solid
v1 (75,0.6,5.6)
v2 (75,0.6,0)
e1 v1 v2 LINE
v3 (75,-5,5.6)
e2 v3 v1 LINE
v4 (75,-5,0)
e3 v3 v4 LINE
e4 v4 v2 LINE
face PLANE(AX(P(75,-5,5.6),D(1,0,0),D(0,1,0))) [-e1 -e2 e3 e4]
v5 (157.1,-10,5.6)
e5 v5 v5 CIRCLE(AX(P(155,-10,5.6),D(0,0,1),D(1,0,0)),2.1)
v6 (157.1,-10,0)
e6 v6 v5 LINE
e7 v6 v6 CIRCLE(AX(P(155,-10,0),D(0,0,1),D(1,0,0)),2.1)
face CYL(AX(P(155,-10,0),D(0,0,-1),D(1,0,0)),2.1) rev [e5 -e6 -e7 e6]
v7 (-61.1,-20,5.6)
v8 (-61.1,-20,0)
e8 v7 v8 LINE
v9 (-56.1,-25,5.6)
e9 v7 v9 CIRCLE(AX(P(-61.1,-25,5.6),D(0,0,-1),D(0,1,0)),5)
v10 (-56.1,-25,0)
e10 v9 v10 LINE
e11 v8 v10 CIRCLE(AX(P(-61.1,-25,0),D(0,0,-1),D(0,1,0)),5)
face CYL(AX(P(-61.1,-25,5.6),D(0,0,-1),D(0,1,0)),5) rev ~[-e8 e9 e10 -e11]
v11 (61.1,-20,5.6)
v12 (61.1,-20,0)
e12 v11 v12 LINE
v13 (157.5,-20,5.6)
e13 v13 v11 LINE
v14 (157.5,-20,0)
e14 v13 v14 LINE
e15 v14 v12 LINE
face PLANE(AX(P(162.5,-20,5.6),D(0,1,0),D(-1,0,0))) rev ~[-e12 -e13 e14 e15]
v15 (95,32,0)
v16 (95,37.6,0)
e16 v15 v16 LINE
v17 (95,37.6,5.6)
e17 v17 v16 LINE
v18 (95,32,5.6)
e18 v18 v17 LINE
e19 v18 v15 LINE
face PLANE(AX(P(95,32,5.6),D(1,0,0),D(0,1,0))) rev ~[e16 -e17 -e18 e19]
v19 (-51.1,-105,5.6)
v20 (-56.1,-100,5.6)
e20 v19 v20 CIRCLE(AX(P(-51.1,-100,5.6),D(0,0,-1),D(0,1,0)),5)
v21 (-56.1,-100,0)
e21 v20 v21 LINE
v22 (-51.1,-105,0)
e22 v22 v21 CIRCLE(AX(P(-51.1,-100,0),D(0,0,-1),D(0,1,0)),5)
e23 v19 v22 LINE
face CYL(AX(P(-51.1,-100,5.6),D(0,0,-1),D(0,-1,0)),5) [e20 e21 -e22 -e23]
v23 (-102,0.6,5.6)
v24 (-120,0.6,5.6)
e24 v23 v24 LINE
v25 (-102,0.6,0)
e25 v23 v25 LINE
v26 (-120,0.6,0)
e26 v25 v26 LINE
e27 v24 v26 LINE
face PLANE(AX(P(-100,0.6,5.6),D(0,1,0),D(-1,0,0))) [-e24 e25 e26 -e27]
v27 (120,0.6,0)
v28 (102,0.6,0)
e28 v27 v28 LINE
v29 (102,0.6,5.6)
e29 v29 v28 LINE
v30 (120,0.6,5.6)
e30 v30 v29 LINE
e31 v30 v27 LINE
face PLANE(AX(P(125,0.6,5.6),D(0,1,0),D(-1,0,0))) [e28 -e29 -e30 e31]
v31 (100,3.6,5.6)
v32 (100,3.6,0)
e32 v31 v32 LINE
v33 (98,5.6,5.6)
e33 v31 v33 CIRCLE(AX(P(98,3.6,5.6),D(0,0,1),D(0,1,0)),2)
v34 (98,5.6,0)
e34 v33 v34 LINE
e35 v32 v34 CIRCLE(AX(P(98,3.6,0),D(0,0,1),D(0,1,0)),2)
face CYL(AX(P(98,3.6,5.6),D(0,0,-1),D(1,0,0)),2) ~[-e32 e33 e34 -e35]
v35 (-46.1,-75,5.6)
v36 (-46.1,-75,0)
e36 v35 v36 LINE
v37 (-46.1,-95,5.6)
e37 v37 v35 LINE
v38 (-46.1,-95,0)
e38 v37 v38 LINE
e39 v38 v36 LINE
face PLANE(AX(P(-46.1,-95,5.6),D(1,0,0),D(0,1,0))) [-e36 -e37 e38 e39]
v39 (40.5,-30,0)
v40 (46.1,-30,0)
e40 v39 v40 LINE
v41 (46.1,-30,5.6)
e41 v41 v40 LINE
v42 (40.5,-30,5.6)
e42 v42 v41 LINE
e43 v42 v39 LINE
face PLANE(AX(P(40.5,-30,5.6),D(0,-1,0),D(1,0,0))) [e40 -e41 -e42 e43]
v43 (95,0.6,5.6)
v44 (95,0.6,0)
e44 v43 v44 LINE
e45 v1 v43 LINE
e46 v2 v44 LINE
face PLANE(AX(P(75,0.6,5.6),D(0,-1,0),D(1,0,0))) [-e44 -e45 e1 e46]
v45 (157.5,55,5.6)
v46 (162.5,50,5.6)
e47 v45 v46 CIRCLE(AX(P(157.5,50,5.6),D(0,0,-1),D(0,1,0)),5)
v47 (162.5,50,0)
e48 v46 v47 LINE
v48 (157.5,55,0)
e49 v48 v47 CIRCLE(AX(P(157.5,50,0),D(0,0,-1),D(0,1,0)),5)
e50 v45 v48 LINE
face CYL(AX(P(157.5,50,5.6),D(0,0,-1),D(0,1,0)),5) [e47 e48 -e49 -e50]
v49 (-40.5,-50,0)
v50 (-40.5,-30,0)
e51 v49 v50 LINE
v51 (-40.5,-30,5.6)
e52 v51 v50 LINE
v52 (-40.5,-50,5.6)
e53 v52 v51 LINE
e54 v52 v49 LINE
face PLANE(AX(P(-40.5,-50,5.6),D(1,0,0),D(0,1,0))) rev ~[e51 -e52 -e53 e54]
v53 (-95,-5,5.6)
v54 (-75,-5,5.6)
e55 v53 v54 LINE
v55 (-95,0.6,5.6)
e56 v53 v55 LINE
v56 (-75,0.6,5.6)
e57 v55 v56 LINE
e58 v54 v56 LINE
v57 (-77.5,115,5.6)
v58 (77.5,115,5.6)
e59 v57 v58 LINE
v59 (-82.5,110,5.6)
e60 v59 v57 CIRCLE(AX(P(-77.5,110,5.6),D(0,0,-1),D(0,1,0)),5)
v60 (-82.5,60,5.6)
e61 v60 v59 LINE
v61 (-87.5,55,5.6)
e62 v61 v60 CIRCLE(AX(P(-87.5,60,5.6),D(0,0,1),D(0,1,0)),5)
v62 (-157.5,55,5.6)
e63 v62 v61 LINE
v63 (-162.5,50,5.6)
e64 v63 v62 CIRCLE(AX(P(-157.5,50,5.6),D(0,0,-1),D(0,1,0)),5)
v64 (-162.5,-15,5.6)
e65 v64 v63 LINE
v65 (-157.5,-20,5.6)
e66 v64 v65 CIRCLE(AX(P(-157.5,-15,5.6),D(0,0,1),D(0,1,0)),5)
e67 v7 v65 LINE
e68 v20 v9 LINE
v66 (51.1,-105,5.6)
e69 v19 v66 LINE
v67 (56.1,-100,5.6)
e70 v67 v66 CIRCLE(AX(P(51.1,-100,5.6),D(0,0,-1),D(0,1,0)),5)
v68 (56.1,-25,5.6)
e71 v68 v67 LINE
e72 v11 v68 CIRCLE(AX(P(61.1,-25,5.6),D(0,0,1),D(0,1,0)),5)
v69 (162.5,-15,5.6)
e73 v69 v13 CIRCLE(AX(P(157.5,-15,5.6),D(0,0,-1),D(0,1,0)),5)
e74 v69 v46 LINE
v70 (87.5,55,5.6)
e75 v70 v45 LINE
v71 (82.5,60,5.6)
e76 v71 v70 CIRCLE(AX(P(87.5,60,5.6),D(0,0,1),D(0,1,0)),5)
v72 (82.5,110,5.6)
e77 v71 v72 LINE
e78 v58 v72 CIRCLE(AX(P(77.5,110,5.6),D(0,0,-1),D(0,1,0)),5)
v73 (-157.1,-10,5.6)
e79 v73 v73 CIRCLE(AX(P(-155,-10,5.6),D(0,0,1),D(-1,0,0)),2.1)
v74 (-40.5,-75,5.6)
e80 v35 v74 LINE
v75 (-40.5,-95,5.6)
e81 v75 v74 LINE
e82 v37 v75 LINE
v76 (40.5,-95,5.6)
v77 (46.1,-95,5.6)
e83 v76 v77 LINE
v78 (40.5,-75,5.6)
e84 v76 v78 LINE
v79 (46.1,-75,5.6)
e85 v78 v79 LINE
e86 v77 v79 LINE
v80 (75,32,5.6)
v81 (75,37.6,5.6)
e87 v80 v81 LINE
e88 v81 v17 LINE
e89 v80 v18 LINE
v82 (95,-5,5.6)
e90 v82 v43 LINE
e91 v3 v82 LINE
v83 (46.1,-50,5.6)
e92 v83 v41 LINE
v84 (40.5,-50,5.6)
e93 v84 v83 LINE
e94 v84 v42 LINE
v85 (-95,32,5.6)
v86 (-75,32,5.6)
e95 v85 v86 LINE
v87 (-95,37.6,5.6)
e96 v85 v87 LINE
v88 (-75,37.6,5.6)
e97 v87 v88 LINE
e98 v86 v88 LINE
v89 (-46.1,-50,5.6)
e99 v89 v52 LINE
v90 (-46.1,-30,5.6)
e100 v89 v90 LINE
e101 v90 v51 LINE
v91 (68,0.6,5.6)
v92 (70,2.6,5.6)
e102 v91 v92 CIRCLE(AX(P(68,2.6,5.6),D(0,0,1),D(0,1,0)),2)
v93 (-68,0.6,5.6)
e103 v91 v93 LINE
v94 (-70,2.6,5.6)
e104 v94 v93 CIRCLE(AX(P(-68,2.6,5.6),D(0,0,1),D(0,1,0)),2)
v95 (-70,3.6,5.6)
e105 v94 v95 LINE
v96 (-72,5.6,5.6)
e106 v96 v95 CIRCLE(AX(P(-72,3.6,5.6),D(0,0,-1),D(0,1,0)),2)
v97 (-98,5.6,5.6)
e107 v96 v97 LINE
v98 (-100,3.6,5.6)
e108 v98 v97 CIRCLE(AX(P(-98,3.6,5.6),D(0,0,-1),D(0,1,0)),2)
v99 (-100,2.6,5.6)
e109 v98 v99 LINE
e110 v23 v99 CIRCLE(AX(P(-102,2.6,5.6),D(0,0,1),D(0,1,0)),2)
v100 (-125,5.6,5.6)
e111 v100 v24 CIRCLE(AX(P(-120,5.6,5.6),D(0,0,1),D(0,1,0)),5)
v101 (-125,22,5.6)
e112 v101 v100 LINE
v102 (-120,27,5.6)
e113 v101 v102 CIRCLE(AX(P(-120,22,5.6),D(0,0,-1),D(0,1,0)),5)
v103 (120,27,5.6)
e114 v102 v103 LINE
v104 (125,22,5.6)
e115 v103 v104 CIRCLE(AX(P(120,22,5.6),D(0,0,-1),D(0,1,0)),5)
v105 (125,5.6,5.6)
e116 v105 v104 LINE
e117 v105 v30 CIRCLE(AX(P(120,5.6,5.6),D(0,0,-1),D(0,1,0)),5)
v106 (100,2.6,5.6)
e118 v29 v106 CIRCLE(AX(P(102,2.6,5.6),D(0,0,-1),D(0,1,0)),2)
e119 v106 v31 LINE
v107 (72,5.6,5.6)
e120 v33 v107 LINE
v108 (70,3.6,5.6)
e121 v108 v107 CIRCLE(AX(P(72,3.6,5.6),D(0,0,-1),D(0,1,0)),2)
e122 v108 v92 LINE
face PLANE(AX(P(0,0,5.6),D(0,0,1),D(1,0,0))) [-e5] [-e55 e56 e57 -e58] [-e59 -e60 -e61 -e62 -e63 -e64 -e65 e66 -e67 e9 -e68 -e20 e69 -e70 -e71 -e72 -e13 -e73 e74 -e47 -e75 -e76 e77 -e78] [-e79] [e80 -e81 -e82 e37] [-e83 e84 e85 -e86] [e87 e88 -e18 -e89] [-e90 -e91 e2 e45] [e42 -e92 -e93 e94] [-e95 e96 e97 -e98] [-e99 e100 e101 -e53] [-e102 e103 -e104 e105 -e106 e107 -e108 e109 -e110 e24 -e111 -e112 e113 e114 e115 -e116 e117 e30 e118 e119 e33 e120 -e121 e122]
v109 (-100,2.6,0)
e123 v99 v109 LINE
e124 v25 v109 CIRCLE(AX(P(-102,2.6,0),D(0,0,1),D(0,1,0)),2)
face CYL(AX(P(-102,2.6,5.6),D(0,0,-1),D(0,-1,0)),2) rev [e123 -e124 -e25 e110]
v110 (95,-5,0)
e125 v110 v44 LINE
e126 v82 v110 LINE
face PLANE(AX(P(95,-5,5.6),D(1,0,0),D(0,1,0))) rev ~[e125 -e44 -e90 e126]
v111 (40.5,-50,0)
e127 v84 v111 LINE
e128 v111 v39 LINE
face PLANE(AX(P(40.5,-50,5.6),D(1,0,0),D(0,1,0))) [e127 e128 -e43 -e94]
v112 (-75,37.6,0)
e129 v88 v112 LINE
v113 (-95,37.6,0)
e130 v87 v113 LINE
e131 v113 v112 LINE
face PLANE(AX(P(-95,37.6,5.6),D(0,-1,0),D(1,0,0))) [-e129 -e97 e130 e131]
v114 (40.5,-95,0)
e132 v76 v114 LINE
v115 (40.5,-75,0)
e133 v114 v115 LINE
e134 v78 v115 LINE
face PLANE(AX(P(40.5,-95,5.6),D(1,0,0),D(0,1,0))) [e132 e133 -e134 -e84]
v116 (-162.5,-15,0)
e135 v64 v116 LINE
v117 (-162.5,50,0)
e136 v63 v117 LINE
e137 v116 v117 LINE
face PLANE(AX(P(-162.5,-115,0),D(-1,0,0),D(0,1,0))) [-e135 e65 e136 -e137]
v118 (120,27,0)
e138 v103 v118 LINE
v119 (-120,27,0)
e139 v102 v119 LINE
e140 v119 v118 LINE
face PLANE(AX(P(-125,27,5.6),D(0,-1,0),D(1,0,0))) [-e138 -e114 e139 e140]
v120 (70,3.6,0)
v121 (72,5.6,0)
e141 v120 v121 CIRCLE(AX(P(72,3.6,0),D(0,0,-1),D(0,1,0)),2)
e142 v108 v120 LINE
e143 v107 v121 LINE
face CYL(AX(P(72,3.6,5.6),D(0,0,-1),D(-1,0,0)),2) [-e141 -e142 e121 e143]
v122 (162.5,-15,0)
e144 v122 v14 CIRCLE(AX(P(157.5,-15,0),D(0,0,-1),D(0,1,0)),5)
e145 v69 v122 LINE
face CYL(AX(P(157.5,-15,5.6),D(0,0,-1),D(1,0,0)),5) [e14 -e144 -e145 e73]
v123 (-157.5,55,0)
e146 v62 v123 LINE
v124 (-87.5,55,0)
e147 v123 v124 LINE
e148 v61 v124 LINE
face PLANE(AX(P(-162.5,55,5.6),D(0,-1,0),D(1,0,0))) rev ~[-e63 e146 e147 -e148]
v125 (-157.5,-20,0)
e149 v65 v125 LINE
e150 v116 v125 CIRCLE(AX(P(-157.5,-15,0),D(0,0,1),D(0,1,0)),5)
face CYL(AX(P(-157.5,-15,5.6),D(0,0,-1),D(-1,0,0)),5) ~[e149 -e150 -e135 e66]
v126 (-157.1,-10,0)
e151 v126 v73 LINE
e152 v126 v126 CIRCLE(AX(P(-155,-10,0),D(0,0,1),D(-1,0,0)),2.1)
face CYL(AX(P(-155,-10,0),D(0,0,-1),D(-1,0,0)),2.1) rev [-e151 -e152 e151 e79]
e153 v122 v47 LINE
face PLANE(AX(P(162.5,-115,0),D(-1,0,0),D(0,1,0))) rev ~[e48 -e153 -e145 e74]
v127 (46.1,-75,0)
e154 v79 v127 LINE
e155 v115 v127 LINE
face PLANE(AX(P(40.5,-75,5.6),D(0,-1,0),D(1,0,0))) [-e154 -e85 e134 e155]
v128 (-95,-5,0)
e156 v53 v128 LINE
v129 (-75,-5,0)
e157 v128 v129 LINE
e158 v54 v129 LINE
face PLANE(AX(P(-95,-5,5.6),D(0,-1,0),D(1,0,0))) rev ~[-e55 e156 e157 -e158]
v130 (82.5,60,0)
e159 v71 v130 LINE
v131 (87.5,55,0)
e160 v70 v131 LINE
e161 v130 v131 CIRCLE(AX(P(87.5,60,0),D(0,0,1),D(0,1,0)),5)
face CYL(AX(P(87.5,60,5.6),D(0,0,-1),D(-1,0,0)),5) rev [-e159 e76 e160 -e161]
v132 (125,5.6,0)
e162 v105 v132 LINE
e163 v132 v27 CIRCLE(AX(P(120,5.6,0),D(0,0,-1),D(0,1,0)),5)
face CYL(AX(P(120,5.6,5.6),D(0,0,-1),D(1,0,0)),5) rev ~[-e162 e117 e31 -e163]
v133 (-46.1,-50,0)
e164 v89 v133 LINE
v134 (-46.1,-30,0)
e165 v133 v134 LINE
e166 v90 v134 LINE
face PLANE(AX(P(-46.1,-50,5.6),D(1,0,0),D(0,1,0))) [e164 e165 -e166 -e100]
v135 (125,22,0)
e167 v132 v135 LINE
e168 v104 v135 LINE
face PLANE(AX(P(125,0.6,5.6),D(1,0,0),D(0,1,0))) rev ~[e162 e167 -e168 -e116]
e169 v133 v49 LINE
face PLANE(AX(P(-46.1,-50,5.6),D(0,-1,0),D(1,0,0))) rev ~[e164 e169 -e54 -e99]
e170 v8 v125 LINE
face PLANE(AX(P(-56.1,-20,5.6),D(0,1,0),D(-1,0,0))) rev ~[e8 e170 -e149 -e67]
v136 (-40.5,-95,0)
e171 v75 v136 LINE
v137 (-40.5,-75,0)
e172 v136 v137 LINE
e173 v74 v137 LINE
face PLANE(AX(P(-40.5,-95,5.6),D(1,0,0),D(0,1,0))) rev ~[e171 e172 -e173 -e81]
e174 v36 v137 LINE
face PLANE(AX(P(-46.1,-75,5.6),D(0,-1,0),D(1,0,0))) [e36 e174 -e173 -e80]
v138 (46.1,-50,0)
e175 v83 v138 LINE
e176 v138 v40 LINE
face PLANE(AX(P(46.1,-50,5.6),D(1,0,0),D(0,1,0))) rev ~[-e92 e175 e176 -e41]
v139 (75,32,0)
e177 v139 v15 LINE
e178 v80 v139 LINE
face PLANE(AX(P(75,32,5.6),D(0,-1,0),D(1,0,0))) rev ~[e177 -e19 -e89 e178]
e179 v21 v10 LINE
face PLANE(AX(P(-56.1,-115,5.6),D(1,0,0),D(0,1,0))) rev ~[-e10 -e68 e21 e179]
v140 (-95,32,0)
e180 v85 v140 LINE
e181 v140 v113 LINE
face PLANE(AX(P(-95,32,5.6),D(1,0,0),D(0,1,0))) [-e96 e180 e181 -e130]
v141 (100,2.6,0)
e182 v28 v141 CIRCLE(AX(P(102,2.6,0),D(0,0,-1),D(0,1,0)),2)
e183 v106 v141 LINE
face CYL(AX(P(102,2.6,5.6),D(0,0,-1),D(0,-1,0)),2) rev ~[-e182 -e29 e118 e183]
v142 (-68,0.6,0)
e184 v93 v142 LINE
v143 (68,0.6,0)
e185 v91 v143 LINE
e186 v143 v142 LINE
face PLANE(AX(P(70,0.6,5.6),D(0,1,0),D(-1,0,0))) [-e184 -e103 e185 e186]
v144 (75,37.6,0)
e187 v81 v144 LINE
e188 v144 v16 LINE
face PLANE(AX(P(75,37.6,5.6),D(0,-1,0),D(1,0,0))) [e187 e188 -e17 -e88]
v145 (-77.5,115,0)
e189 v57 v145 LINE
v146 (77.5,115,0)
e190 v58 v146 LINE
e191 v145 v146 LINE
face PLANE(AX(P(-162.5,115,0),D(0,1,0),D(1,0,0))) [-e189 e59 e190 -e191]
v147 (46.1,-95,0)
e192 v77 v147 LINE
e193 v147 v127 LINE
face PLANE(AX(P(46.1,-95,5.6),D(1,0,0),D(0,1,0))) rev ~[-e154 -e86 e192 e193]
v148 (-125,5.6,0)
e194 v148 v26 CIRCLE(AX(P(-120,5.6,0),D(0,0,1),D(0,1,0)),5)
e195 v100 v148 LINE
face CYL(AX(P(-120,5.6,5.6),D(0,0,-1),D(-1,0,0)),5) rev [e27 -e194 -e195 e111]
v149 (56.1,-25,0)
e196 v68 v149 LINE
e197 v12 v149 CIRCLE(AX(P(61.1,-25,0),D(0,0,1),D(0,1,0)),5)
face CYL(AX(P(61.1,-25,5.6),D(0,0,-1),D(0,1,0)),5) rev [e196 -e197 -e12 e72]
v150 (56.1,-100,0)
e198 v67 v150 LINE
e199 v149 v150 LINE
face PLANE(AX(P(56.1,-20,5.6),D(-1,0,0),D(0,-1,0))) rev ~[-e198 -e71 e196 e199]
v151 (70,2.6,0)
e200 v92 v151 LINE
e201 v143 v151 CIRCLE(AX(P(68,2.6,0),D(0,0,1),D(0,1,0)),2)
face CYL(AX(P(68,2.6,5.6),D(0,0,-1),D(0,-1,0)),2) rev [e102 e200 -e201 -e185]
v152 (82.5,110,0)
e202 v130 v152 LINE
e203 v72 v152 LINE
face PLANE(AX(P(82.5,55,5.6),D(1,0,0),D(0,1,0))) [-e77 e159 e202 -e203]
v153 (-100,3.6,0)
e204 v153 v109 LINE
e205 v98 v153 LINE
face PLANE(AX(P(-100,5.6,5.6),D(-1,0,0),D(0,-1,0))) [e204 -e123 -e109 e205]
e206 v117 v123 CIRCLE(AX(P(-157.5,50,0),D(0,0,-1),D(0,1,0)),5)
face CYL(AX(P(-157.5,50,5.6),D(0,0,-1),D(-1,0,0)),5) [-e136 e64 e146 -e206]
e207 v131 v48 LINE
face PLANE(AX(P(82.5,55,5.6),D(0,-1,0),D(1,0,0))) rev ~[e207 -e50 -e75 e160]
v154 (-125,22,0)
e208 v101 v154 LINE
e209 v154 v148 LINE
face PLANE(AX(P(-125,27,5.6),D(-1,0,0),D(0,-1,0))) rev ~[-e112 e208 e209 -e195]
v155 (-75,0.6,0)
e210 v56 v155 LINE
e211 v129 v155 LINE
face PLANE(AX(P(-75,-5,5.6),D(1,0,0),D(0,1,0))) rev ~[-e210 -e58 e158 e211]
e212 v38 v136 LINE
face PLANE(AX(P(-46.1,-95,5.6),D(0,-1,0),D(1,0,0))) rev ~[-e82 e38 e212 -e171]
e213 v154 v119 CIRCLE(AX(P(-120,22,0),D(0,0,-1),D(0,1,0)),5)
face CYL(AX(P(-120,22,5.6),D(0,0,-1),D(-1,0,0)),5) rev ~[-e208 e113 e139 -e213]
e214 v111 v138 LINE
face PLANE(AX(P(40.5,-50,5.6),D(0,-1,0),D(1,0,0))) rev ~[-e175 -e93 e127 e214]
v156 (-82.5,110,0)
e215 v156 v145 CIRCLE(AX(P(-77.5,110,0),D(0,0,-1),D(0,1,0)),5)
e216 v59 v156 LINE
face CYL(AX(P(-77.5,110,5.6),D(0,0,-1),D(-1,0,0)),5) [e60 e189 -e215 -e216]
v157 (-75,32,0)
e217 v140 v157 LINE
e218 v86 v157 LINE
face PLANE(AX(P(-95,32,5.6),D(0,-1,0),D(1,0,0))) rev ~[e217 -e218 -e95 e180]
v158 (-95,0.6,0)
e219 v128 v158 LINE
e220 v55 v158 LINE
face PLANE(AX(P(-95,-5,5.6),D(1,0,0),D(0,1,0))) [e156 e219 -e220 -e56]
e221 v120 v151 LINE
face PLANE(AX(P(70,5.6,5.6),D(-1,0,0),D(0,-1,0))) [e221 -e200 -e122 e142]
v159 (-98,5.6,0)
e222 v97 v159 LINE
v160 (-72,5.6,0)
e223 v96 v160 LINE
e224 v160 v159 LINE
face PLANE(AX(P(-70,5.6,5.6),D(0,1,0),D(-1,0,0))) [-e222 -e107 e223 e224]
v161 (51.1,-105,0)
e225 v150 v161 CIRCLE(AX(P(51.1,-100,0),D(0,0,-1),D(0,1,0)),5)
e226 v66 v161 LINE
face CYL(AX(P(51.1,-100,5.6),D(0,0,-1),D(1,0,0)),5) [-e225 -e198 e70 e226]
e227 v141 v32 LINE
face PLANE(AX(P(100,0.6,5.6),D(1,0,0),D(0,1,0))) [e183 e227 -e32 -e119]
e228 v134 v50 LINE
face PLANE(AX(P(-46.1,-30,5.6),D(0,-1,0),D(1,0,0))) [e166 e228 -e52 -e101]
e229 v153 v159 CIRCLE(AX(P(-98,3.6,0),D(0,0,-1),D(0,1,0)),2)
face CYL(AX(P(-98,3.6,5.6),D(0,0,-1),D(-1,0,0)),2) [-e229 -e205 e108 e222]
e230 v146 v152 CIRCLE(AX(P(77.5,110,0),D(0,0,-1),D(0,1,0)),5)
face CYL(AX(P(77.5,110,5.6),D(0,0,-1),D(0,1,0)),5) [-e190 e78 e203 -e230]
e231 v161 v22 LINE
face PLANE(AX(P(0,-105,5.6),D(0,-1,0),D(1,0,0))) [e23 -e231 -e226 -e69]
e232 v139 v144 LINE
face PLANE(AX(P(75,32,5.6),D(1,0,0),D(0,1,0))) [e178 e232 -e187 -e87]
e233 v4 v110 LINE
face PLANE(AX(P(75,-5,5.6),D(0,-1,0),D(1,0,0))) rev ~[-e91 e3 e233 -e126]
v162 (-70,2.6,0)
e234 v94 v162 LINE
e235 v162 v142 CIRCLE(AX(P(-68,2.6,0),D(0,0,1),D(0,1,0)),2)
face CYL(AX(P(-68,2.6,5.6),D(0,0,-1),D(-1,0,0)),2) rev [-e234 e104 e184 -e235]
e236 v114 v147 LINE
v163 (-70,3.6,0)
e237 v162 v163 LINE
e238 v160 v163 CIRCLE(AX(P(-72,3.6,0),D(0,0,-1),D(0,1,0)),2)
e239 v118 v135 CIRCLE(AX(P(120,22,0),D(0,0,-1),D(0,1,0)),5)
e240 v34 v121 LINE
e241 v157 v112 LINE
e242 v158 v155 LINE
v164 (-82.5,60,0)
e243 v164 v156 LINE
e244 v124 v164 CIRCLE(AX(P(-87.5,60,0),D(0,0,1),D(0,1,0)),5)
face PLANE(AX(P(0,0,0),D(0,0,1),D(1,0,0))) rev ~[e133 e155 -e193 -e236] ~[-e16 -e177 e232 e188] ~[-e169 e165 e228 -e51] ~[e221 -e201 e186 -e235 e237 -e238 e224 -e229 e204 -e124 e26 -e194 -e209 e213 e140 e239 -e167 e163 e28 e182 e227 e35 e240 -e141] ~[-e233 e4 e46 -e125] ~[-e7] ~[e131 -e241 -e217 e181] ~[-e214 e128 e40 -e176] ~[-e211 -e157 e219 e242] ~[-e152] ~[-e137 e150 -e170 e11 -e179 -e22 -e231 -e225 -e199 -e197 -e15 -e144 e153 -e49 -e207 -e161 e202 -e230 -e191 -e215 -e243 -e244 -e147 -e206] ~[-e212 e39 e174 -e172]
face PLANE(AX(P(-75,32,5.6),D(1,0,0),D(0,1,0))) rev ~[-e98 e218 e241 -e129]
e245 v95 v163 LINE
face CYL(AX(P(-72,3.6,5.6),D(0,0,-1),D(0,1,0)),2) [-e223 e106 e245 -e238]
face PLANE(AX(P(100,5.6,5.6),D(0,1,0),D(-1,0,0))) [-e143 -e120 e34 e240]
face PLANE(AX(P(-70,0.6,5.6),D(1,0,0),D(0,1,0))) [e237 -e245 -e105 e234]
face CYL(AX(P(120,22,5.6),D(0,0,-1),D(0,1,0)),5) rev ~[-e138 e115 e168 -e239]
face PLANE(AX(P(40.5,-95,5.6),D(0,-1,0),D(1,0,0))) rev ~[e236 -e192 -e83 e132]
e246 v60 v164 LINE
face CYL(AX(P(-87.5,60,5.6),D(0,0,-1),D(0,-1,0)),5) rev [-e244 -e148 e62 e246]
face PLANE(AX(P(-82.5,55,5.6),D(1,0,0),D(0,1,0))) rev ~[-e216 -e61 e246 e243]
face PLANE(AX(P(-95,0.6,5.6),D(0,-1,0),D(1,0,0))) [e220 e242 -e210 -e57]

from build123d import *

# Parameters (mm, degrees)
SKETCH_1_W          = 325
SKETCH_1_H          = 230
SKETCH_1_R          = 2.1
EXTRUDE_1_DEPTH     = 5.6
SKETCH_2_W          = 5.6
SKETCH_2_H          = 20
SKETCH_2_W_2        = 20
SKETCH_2_H_2        = 5.6
CUT_EXTRUDE_1_DEPTH = 200.154738834
SKETCH_3_R          = 2.1
SKETCH_3_W          = 56.1
SKETCH_3_H          = 10
CUT_EXTRUDE_2_DEPTH = 200.154738834
CUT_EXTRUDE_3_DEPTH = 200.154738834
SKETCH_5_W          = 80
SKETCH_5_H          = 60
CUT_EXTRUDE_4_DEPTH = 200.154738834
FILLET_1_R          = 5
FILLET_2_R          = 2


with BuildPart() as part:
    # ｽｹｯﾁ1 → ﾎﾞｽ - 押し出し1 (new body)
    with BuildSketch(Plane.XY):
        Rectangle(SKETCH_1_W, SKETCH_1_H)
        with Locations((155, 110)):
            Circle(SKETCH_1_R, mode=Mode.SUBTRACT)
        with Locations(Location((155, -110, 0), (0, 0, 180))):
            Circle(SKETCH_1_R, mode=Mode.SUBTRACT)
        with Locations(Location((-155, 110, 0), (0, 0, 180))):
            Circle(SKETCH_1_R, mode=Mode.SUBTRACT)
        with Locations((-155, -110)):
            Circle(SKETCH_1_R, mode=Mode.SUBTRACT)
        with Locations((155, -10)):
            Circle(SKETCH_1_R, mode=Mode.SUBTRACT)
        with Locations(Location((-155, -10, 0), (0, 0, 180))):
            Circle(SKETCH_1_R, mode=Mode.SUBTRACT)
    extrude(amount=EXTRUDE_1_DEPTH)

    # ｽｹｯﾁ2 → ｶｯﾄ - 押し出し1 (cut, through all)
    with BuildSketch(Plane.XY.offset(5.6)):
        with Locations((43.3, -40)):
            Rectangle(SKETCH_2_W, SKETCH_2_H)
        with Locations((-43.3, -40)):
            Rectangle(SKETCH_2_W, SKETCH_2_H)
        with Locations((43.3, -85)):
            Rectangle(SKETCH_2_W, SKETCH_2_H)
        with Locations((-43.3, -85)):
            Rectangle(SKETCH_2_W, SKETCH_2_H)
        with Locations((85, -2.2)):
            Rectangle(SKETCH_2_W_2, SKETCH_2_H_2)
        with Locations((-85, -2.2)):
            Rectangle(SKETCH_2_W_2, SKETCH_2_H_2)
        with Locations((85, 34.8)):
            Rectangle(SKETCH_2_W_2, SKETCH_2_H_2)
        with Locations((-85, 34.8)):
            Rectangle(SKETCH_2_W_2, SKETCH_2_H_2)
    extrude(amount=-CUT_EXTRUDE_1_DEPTH, mode=Mode.SUBTRACT)

    # ｽｹｯﾁ3 → ｶｯﾄ - 押し出し2 (cut, through all)
    # profile 1 of 4: a face of its own
    with BuildSketch(Plane.XY.offset(5.6)):
        Polygon((-56.1, -115), (-56.1, -105), (-56.1, -20), (-162.5, -20), (-162.5, -115), align=None)
        with Locations((-155, -110)):
            Circle(SKETCH_3_R, mode=Mode.SUBTRACT)
    # profile 2 of 4: a face of its own
    with BuildSketch(Plane.XY.offset(5.6)):
        with Locations((-28.05, -110)):
            Rectangle(SKETCH_3_W, SKETCH_3_H)
    # profile 3 of 4: a face of its own
    with BuildSketch(Plane.XY.offset(5.6)):
        with Locations((28.05, -110)):
            Rectangle(SKETCH_3_W, SKETCH_3_H)
    # profile 4 of 4: a face of its own
    with BuildSketch(Plane.XY.offset(5.6)):
        Polygon((56.1, -20), (56.1, -105), (56.1, -115), (162.5, -115), (162.5, -20), align=None)
        with Locations((155, -110)):
            Circle(SKETCH_3_R, mode=Mode.SUBTRACT)
    extrude(amount=-CUT_EXTRUDE_2_DEPTH, mode=Mode.SUBTRACT)

    # ｽｹｯﾁ4 → ｶｯﾄ - 押し出し3 (cut, through all)
    with BuildSketch(Plane.XY.offset(5.6)):
        Polygon((-125, 27), (125, 27), (125, 5.6), (125, 0.6), (100, 0.6), (100, 5.6), (70, 5.6), (70, 0.6), (-70, 0.6), (-70, 5.6), (-100, 5.6), (-100, 0.6), (-125, 0.6), (-125, 5.6), align=None)
    extrude(amount=-CUT_EXTRUDE_3_DEPTH, mode=Mode.SUBTRACT)

    # ｽｹｯﾁ5 → ｶｯﾄ - 押し出し4 (cut, through all)
    with BuildSketch(Plane.XY.offset(5.6)):
        with Locations((-122.5, 85)):
            Rectangle(SKETCH_5_W, SKETCH_5_H)
        with Locations((122.5, 85)):
            Rectangle(SKETCH_5_W, SKETCH_5_H)
    extrude(amount=-CUT_EXTRUDE_4_DEPTH, mode=Mode.SUBTRACT)

    # ﾌｨﾚｯﾄ1
    fillet_1_edges = [part.edges().sort_by_distance(p)[0] for p in [
        (-162.5, -20, 2.8),
        (-56.1, -20, 2.8),
        (-56.1, -105, 2.8),
        (56.1, -105, 2.8),
        (56.1, -20, 2.8),
        (162.5, -20, 2.8),
        (125, 0.6, 2.8),
        (-125, 0.6, 2.8),
        (-125, 27, 2.8),
        (125, 27, 2.8),
        (-162.5, 55, 2.8),
        (-82.5, 115, 2.8),
        (-82.5, 55, 2.8),
        (82.5, 115, 2.8),
        (162.5, 55, 2.8),
        (82.5, 55, 2.8),
    ]]
    fillet(fillet_1_edges, radius=FILLET_1_R)

    # ﾌｨﾚｯﾄ2
    fillet_2_edges = [part.edges().sort_by_distance(p)[0] for p in [
        (100, 0.6, 2.8),
        (100, 5.6, 2.8),
        (70, 5.6, 2.8),
        (70, 0.6, 2.8),
        (-70, 0.6, 2.8),
        (-70, 5.6, 2.8),
        (-100, 5.6, 2.8),
        (-100, 0.6, 2.8),
    ]]
    fillet(fillet_2_edges, radius=FILLET_2_R)


solid = part.part
